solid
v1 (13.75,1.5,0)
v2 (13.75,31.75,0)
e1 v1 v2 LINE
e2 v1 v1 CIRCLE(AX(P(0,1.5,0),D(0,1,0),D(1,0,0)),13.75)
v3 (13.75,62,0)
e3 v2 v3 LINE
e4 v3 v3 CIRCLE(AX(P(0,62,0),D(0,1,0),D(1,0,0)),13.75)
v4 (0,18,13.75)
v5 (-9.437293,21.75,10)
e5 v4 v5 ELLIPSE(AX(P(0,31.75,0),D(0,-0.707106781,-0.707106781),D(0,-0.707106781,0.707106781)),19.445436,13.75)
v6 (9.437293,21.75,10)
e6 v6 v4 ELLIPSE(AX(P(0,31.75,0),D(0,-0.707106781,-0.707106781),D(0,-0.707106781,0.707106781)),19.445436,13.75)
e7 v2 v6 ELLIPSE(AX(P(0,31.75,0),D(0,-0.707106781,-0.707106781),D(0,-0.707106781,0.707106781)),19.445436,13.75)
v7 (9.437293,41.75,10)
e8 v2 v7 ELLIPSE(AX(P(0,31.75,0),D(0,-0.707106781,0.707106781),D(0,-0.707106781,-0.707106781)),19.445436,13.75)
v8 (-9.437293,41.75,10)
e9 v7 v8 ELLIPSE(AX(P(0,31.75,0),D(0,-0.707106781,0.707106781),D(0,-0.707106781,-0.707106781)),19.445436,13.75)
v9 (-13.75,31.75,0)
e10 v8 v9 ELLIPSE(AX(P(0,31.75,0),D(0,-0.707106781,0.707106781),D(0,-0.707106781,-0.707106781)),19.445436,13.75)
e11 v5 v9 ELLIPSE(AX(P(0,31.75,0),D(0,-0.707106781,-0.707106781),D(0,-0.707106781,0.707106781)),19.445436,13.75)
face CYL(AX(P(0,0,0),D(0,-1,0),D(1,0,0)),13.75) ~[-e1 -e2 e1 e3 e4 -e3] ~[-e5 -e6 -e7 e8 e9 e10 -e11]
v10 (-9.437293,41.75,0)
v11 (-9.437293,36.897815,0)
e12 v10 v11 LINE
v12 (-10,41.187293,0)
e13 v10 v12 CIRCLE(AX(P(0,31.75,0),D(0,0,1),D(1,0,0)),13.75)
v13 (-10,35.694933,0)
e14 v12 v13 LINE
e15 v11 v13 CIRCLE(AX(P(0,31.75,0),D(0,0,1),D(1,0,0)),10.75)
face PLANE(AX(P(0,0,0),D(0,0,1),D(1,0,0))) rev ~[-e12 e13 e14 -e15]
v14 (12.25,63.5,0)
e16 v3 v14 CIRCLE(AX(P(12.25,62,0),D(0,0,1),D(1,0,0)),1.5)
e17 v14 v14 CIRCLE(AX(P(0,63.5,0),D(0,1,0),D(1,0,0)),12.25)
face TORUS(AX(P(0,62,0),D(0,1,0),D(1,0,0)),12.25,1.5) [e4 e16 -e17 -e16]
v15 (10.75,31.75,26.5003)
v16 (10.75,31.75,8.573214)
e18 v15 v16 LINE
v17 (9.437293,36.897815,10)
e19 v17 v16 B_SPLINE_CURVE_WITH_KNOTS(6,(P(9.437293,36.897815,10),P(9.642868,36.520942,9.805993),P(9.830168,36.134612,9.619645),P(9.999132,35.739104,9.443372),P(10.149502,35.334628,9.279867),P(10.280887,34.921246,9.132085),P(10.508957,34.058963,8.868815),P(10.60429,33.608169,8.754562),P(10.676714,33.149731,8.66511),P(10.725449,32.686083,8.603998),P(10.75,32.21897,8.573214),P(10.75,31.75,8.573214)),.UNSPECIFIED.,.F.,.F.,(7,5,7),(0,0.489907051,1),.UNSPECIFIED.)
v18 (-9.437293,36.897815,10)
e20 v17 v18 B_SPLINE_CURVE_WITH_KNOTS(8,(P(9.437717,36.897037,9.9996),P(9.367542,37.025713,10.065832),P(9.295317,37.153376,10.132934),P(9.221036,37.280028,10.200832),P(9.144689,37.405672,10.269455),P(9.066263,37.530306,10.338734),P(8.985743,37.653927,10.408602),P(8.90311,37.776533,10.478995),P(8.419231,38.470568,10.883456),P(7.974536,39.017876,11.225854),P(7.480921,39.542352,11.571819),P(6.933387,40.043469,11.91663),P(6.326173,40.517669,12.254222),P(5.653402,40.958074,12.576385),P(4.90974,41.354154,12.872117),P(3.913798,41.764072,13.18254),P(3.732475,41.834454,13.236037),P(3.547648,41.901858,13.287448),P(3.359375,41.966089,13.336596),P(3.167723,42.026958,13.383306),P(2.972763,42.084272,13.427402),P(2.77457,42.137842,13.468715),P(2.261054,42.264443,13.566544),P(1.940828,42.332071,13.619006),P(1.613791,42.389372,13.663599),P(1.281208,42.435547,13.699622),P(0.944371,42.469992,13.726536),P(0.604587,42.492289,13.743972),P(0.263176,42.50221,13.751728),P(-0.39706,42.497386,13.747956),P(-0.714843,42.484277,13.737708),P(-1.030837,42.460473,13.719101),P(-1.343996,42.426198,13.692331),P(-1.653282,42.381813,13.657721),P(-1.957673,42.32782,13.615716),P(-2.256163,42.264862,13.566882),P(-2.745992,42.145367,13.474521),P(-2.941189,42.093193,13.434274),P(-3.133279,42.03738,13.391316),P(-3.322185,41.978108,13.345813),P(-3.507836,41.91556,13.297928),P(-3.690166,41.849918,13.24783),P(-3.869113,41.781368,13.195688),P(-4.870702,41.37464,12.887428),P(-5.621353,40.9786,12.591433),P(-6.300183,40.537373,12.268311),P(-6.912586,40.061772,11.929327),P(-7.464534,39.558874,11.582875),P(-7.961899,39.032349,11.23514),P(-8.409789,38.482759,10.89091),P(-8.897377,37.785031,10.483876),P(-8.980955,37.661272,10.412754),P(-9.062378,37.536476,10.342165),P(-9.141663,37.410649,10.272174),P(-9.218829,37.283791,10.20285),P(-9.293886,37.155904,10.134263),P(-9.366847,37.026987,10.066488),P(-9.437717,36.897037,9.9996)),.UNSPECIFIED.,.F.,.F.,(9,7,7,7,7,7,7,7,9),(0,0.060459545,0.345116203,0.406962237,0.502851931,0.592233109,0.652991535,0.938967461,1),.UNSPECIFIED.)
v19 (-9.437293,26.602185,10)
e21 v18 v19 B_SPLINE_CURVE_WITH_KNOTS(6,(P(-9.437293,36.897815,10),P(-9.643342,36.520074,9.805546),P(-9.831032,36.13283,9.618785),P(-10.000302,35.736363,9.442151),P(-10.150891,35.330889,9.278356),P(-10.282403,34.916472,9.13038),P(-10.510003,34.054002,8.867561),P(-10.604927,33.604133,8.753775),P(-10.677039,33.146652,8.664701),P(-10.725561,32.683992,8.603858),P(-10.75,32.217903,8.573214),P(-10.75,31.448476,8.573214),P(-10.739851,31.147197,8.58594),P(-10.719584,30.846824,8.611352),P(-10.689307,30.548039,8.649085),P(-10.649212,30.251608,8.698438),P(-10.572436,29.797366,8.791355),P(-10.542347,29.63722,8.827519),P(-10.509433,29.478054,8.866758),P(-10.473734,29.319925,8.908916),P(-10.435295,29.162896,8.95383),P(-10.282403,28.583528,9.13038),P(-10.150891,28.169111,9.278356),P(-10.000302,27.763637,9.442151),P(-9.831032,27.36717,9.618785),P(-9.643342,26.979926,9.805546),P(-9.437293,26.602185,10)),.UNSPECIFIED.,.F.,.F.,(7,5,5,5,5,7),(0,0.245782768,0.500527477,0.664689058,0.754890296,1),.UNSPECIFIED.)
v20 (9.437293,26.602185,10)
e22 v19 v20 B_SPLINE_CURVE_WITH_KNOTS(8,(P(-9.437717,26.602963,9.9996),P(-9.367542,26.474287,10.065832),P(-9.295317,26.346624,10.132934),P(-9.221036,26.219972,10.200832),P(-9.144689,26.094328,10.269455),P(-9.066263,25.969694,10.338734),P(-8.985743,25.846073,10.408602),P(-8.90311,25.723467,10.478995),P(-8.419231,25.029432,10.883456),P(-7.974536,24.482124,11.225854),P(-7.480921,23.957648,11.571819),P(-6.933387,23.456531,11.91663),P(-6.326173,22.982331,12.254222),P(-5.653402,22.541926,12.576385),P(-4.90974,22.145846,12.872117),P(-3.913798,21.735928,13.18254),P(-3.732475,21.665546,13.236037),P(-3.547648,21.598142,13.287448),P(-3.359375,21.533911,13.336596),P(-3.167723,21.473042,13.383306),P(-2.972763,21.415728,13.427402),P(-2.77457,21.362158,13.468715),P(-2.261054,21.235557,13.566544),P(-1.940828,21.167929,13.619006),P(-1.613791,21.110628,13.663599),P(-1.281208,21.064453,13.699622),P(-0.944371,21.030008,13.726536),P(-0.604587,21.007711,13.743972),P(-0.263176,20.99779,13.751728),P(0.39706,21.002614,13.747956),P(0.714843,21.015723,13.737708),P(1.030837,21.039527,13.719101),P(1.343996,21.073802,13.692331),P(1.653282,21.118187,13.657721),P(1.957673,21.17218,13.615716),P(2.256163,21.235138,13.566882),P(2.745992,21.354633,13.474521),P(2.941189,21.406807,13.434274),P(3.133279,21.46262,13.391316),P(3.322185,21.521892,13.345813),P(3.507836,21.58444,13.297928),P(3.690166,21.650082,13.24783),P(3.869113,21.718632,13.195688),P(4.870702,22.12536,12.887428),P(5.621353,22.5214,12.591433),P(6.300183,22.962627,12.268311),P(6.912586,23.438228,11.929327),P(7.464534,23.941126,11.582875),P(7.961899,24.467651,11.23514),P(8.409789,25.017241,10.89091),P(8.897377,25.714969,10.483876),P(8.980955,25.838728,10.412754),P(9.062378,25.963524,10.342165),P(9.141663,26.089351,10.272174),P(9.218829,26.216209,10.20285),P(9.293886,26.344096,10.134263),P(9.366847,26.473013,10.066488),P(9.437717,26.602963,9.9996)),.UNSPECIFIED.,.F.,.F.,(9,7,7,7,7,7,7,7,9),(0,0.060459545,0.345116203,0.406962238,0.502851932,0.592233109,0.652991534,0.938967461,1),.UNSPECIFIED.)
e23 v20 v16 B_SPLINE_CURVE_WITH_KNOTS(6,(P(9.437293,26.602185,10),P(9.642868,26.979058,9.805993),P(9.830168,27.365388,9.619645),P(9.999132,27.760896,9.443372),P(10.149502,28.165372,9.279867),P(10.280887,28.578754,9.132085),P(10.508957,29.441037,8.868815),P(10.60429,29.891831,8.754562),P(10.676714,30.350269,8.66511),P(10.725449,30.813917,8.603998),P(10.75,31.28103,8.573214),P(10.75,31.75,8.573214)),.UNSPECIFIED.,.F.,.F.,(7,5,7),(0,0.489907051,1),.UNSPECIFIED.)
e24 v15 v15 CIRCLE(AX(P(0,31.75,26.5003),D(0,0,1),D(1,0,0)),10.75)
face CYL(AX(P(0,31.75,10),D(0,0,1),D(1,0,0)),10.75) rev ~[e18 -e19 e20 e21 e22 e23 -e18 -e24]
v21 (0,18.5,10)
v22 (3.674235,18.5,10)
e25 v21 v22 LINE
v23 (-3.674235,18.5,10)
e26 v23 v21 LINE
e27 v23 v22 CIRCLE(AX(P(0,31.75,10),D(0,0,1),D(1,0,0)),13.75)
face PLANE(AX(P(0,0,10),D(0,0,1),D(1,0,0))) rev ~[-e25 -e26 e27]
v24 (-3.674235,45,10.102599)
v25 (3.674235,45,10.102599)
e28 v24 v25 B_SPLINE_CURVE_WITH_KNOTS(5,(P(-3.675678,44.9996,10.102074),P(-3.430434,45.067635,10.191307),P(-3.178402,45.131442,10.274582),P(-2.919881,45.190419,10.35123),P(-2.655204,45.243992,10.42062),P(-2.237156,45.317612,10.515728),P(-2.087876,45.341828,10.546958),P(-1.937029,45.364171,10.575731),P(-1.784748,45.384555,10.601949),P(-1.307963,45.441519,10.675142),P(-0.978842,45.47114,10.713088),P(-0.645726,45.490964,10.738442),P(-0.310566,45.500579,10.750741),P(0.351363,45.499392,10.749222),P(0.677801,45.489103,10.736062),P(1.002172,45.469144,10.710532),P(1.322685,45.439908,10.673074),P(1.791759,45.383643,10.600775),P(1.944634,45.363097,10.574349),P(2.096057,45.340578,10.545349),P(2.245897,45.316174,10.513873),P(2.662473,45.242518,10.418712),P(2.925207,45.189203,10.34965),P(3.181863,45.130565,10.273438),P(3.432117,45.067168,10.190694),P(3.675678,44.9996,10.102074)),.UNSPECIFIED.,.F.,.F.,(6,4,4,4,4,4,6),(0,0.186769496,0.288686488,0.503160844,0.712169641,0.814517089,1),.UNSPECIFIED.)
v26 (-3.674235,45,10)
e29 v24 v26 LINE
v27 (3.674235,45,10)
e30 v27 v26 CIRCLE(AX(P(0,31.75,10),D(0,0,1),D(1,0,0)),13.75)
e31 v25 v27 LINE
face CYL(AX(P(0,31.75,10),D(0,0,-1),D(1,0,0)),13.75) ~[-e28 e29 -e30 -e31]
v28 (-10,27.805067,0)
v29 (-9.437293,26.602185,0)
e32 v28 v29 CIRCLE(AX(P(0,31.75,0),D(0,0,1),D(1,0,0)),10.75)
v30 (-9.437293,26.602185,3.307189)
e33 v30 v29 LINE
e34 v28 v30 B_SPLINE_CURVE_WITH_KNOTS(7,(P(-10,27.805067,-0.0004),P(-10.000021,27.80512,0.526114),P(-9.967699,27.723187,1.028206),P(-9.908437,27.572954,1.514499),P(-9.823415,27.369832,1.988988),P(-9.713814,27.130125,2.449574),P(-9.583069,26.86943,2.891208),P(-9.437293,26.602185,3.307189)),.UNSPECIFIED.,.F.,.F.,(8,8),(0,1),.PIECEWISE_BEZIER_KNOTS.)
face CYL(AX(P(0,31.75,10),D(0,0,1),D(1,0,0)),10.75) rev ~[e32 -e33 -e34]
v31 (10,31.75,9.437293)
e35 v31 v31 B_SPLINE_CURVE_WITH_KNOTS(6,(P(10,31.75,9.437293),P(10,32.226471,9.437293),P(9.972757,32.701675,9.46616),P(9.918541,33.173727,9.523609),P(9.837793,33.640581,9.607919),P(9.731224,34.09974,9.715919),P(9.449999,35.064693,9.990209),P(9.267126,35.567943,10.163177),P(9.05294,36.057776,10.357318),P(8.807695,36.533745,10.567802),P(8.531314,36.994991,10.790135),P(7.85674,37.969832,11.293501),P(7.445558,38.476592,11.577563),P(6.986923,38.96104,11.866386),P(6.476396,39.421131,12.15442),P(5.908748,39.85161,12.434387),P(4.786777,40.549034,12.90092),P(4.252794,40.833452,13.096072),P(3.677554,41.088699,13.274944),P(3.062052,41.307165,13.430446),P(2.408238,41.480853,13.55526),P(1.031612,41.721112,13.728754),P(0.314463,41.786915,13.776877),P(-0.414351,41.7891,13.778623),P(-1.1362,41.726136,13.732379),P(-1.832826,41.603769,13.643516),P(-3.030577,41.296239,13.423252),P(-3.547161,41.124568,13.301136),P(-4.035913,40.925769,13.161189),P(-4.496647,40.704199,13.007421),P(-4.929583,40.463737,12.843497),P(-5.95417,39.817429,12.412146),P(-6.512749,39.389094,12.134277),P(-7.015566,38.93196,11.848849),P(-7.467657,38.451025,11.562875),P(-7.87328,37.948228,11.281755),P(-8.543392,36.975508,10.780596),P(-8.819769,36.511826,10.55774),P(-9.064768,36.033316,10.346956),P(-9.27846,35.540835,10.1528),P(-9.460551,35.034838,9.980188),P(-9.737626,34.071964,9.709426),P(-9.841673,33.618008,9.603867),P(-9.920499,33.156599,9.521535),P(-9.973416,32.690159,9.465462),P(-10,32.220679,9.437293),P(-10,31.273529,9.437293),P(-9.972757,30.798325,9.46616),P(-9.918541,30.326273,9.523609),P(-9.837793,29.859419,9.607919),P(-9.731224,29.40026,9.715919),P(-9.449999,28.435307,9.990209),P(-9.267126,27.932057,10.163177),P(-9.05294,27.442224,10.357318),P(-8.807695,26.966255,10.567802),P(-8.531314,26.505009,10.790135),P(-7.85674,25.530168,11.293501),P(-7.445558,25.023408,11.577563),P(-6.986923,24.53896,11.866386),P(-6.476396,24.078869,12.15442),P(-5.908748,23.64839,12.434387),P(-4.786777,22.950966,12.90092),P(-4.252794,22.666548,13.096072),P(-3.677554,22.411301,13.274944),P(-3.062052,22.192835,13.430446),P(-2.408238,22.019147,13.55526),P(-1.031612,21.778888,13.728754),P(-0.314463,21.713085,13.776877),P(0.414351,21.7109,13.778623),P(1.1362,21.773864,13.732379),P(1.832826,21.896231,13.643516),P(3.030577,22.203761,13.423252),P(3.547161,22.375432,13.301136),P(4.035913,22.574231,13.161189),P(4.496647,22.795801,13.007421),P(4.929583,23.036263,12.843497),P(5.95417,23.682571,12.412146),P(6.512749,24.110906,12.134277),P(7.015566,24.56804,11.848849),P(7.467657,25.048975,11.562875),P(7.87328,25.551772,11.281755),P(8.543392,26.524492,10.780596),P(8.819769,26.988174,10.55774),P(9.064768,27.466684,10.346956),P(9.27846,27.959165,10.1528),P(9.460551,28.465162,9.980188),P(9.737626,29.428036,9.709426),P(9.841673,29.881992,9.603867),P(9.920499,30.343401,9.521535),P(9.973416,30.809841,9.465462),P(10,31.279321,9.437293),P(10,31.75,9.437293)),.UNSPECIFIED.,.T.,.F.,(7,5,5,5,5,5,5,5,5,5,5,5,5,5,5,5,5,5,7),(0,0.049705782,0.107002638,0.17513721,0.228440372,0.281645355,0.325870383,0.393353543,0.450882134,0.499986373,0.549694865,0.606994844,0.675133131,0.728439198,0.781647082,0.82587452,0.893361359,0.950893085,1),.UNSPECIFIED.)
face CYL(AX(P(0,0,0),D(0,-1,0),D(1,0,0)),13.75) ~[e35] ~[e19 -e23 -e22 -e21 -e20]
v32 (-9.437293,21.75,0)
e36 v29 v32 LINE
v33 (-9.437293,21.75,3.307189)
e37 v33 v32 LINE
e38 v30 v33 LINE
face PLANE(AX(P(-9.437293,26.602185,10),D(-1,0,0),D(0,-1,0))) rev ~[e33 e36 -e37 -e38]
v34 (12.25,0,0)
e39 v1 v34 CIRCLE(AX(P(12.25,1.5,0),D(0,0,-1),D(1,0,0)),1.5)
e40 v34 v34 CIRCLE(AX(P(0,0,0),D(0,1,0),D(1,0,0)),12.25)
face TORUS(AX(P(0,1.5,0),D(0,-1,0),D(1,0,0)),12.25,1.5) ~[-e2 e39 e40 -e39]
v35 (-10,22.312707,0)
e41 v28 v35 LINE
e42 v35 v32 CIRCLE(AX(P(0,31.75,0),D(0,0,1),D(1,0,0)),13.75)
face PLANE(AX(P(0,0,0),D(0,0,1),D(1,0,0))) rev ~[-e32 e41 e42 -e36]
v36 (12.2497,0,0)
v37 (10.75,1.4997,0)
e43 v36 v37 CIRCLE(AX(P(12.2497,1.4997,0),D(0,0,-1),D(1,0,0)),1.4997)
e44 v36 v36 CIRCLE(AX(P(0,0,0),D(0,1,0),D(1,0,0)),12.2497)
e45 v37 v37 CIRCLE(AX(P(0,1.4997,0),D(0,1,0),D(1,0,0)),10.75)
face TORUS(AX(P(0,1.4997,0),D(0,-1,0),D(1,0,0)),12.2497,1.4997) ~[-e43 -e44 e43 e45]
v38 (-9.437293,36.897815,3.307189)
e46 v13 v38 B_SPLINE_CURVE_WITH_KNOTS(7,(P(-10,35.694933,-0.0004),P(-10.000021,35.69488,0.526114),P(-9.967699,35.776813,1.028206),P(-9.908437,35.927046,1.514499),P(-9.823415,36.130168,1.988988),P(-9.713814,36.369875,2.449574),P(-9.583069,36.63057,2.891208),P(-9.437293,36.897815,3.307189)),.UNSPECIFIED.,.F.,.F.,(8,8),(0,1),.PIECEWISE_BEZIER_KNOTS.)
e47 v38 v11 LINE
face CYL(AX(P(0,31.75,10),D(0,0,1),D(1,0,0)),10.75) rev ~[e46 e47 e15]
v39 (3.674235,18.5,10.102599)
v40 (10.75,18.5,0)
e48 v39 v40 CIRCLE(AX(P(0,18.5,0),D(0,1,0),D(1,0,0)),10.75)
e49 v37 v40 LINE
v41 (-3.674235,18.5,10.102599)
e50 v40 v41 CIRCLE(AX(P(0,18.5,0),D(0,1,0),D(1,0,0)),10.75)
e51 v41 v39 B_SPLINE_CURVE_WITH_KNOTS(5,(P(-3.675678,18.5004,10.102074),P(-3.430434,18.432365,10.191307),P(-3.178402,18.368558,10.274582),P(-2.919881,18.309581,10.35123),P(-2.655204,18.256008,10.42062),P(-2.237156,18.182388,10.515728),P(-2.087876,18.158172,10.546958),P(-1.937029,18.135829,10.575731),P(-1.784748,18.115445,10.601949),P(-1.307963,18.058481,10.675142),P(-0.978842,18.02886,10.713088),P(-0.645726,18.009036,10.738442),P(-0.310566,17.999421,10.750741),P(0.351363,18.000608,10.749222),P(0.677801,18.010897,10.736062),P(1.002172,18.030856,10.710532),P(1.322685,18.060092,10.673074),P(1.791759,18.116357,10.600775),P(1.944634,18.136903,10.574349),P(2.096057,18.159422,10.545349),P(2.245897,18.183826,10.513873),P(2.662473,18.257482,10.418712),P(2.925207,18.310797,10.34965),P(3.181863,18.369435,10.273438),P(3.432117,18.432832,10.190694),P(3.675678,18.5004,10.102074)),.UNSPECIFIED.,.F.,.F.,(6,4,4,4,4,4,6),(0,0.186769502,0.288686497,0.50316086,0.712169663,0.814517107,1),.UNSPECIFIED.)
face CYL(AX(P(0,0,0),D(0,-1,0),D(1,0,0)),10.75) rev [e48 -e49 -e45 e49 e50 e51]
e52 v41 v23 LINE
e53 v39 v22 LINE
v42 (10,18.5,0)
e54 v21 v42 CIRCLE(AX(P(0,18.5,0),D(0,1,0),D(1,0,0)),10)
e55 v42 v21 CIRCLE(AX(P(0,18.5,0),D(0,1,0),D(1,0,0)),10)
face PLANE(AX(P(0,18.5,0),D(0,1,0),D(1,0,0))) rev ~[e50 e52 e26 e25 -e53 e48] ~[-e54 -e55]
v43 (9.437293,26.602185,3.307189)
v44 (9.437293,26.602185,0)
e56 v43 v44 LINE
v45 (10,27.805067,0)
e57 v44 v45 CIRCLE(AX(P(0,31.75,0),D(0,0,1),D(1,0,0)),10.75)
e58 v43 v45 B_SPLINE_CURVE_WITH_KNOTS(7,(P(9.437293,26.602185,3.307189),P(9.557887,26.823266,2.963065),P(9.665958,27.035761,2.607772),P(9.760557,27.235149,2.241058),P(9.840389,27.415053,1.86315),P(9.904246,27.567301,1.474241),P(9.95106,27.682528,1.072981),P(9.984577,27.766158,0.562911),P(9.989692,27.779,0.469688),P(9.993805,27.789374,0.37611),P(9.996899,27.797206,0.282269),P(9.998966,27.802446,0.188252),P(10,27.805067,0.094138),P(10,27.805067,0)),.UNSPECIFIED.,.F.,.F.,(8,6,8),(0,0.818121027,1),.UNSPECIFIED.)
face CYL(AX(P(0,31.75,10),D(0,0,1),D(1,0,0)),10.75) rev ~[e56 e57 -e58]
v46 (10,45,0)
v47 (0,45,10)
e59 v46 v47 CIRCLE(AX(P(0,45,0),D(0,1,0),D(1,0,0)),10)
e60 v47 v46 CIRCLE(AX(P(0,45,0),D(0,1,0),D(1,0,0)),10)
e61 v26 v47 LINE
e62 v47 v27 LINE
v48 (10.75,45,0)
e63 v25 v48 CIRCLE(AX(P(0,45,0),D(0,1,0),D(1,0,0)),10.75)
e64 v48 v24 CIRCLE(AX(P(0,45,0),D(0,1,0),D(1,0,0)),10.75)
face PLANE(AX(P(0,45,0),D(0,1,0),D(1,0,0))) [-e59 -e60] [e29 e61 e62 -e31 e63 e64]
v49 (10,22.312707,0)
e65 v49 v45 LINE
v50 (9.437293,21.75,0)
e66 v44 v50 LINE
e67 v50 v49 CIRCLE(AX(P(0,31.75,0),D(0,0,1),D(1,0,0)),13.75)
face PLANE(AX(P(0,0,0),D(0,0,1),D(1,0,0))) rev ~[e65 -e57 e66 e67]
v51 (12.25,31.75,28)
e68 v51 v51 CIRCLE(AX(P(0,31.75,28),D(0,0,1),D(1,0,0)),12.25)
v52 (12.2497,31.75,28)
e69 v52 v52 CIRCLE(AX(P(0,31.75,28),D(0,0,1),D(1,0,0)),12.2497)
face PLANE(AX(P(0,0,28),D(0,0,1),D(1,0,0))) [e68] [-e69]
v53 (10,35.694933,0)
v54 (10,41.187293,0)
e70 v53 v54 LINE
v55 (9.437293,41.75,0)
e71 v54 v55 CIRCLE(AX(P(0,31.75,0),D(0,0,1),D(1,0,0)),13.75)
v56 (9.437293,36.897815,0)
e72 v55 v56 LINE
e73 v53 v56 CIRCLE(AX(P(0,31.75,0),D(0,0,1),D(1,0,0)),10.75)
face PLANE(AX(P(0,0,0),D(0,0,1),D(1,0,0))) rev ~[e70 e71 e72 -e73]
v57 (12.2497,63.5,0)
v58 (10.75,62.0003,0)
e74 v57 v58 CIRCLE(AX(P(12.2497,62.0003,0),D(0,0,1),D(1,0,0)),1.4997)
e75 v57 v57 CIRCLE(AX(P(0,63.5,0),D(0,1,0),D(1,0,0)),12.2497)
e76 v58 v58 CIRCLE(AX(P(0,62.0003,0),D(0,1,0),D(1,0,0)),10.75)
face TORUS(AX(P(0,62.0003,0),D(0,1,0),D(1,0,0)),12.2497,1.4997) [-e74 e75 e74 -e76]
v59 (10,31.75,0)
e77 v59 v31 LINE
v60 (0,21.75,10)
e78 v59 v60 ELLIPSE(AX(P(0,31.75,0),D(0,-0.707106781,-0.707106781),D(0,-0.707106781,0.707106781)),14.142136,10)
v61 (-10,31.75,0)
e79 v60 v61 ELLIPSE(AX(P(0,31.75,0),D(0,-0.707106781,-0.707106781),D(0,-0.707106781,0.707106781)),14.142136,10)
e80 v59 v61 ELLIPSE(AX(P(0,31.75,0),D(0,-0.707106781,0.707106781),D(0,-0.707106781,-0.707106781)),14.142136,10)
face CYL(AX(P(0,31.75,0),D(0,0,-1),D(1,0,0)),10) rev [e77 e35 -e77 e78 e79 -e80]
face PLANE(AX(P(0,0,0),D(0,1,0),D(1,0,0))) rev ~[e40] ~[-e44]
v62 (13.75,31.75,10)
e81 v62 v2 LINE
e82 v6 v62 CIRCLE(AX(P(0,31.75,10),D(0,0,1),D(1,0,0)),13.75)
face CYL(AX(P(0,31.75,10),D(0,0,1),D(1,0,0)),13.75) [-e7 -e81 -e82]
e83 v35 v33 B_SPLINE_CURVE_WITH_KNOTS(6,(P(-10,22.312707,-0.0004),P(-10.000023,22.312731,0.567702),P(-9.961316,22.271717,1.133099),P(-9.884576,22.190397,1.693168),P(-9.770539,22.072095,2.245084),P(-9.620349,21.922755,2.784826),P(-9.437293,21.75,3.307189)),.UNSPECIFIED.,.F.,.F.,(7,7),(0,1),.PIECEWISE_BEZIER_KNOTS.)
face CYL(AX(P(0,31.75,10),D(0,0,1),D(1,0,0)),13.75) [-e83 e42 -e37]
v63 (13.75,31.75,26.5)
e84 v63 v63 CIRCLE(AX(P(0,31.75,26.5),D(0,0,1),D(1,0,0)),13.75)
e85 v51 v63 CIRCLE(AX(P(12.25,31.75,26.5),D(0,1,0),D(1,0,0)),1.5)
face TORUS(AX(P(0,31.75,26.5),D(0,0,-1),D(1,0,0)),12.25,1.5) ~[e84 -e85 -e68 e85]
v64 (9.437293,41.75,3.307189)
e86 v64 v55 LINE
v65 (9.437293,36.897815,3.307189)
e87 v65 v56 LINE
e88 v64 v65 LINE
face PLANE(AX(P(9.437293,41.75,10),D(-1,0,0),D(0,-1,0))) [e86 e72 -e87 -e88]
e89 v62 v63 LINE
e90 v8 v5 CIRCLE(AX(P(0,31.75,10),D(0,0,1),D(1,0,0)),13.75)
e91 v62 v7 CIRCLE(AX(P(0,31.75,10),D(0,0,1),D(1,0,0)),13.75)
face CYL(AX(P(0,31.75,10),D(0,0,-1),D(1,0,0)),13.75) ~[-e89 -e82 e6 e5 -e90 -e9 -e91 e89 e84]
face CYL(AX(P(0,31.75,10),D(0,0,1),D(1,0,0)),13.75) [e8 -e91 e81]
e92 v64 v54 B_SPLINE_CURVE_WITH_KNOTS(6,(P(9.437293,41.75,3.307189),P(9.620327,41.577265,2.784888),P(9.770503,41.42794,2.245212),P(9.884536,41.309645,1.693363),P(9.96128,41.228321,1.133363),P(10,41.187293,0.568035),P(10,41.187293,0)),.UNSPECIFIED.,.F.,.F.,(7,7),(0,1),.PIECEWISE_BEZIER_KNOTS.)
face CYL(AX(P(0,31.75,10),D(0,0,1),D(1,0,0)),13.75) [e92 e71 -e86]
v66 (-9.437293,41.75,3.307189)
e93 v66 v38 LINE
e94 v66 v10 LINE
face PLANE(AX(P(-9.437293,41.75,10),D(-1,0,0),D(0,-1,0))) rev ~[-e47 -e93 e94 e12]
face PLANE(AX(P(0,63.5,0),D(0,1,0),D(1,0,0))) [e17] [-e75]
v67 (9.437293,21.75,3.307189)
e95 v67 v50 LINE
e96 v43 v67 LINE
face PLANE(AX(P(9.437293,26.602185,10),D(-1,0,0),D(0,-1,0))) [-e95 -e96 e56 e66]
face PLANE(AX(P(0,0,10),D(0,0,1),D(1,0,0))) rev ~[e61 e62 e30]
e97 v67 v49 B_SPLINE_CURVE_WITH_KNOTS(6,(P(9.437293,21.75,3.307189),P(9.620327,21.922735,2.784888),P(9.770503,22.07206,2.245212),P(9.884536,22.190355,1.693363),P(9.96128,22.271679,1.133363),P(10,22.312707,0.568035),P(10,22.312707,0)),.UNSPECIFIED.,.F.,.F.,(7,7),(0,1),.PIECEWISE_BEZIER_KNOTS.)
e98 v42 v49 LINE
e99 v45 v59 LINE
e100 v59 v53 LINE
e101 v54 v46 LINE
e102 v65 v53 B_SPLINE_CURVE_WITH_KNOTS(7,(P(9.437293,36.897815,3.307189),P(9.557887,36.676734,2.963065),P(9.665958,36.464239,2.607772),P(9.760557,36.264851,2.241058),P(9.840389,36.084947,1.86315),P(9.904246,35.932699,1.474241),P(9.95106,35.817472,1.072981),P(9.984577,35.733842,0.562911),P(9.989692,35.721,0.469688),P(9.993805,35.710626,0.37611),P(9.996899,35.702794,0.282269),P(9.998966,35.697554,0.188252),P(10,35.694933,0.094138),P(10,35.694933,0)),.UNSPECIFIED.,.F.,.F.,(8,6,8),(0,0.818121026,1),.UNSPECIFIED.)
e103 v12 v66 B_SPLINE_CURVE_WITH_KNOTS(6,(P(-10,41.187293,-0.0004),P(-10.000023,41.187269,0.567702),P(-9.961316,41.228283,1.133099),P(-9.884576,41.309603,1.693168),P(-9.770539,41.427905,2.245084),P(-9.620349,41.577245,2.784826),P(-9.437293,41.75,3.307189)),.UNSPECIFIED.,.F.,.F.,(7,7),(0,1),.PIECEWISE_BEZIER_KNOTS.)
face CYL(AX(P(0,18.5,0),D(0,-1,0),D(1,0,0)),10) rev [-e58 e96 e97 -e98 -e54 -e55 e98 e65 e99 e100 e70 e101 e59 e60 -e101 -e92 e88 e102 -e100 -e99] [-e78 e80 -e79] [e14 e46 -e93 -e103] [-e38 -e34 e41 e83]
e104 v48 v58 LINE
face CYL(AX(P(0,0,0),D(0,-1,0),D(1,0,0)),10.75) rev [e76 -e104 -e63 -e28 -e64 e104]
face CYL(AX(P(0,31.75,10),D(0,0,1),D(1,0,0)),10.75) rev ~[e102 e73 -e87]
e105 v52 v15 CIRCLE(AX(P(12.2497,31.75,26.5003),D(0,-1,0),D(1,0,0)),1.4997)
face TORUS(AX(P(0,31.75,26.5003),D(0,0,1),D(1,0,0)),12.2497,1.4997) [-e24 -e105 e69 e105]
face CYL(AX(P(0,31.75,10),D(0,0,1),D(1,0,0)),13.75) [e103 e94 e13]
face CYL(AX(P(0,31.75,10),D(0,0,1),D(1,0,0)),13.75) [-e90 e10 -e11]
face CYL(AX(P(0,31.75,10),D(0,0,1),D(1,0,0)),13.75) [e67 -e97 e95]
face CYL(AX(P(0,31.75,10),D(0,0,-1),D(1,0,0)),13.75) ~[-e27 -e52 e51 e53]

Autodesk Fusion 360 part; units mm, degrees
sketch "Sketch1" plane through (0, 0, 0) normal (0, 1, 0) x (1, 0, 0)
  circle A0 centre (0, 0) radius 10.75
  circle A1 centre (0, 0) radius 13.75
  dimension "d1" = 21.5
  dimension "d2" = 27.5
extrude "Extrude1" add sketch "Sketch1" along normal blind 63.5
ref_plane "WorkPlane1" through (0, 18.5, 0) normal (0, 1, 0) x (0, 0, 1)
sketch "Sketch2" plane through (0, 18.5, 0) normal (0, 1, 0) x (1, 0, 0)
  circle A0 centre (0, 0) radius 10
  circle A1 centre (0, 0) radius 10.75
  dimension "d6" = 20
  dimension "d7" = 21.5
extrude "Extrude2" add sketch "Sketch2" along normal blind 26.5
fillet "Fillet1" radius 1.5 1 edges at (-12.8195, 63.5, 4.9722)
fillet "Fillet2" radius 1.5 1 edges at (-10.0225, 63.5, -3.8874)
fillet "Fillet3" radius 1.5 1 edges at (-12.8195, 0, 4.9722)
fillet "Fillet4" radius 1.5 1 edges at (-10.0225, 0, -3.8874)
ref_plane "WorkPlane2" through (0, 0, 10) normal (0, 0, 1) x (1, 0, 0)
sketch "Sketch3" plane through (0, 0, 10) normal (0, 0, 1) x (1, 0, 0)
  line L0 (0, 0) -> (0, 31.75) construction
  circle A0 centre (0, 31.75) radius 10.75
  circle A1 centre (0, 31.75) radius 13.75
  dimension "d19" = 31.75
  dimension "d20" = 21.5
  dimension "d21" = 27.5
extrude "Extrude3" add sketch "Sketch3" along normal blind 18
extrude "Extrude4" add 1 faces at (11.2787, 25.8512, 10) along direction (0, 0, -1) blind 10
extrude "Extrude5" add 1 faces at (-11.4002, 37.3943, 10) along direction (0, 0, -1) blind 10
sketch "Sketch4" plane through (0, 0, 0) normal (0, 0, 1) x (1, 0, 0)
  line L0 (0, 0) -> (0, 31.75) construction
  circle A0 centre (0, 31.75) radius 10
  dimension "d28" = 31.75
  dimension "d29" = 20
extrude "Extrude6" cut sketch "Sketch4" along normal blind 37
fillet "Fillet5" radius 1.5 1 edges at (-12.8195, 26.7778, 28)
fillet "Fillet6" radius 1.5 1 edges at (-10.0225, 35.6374, 28)
